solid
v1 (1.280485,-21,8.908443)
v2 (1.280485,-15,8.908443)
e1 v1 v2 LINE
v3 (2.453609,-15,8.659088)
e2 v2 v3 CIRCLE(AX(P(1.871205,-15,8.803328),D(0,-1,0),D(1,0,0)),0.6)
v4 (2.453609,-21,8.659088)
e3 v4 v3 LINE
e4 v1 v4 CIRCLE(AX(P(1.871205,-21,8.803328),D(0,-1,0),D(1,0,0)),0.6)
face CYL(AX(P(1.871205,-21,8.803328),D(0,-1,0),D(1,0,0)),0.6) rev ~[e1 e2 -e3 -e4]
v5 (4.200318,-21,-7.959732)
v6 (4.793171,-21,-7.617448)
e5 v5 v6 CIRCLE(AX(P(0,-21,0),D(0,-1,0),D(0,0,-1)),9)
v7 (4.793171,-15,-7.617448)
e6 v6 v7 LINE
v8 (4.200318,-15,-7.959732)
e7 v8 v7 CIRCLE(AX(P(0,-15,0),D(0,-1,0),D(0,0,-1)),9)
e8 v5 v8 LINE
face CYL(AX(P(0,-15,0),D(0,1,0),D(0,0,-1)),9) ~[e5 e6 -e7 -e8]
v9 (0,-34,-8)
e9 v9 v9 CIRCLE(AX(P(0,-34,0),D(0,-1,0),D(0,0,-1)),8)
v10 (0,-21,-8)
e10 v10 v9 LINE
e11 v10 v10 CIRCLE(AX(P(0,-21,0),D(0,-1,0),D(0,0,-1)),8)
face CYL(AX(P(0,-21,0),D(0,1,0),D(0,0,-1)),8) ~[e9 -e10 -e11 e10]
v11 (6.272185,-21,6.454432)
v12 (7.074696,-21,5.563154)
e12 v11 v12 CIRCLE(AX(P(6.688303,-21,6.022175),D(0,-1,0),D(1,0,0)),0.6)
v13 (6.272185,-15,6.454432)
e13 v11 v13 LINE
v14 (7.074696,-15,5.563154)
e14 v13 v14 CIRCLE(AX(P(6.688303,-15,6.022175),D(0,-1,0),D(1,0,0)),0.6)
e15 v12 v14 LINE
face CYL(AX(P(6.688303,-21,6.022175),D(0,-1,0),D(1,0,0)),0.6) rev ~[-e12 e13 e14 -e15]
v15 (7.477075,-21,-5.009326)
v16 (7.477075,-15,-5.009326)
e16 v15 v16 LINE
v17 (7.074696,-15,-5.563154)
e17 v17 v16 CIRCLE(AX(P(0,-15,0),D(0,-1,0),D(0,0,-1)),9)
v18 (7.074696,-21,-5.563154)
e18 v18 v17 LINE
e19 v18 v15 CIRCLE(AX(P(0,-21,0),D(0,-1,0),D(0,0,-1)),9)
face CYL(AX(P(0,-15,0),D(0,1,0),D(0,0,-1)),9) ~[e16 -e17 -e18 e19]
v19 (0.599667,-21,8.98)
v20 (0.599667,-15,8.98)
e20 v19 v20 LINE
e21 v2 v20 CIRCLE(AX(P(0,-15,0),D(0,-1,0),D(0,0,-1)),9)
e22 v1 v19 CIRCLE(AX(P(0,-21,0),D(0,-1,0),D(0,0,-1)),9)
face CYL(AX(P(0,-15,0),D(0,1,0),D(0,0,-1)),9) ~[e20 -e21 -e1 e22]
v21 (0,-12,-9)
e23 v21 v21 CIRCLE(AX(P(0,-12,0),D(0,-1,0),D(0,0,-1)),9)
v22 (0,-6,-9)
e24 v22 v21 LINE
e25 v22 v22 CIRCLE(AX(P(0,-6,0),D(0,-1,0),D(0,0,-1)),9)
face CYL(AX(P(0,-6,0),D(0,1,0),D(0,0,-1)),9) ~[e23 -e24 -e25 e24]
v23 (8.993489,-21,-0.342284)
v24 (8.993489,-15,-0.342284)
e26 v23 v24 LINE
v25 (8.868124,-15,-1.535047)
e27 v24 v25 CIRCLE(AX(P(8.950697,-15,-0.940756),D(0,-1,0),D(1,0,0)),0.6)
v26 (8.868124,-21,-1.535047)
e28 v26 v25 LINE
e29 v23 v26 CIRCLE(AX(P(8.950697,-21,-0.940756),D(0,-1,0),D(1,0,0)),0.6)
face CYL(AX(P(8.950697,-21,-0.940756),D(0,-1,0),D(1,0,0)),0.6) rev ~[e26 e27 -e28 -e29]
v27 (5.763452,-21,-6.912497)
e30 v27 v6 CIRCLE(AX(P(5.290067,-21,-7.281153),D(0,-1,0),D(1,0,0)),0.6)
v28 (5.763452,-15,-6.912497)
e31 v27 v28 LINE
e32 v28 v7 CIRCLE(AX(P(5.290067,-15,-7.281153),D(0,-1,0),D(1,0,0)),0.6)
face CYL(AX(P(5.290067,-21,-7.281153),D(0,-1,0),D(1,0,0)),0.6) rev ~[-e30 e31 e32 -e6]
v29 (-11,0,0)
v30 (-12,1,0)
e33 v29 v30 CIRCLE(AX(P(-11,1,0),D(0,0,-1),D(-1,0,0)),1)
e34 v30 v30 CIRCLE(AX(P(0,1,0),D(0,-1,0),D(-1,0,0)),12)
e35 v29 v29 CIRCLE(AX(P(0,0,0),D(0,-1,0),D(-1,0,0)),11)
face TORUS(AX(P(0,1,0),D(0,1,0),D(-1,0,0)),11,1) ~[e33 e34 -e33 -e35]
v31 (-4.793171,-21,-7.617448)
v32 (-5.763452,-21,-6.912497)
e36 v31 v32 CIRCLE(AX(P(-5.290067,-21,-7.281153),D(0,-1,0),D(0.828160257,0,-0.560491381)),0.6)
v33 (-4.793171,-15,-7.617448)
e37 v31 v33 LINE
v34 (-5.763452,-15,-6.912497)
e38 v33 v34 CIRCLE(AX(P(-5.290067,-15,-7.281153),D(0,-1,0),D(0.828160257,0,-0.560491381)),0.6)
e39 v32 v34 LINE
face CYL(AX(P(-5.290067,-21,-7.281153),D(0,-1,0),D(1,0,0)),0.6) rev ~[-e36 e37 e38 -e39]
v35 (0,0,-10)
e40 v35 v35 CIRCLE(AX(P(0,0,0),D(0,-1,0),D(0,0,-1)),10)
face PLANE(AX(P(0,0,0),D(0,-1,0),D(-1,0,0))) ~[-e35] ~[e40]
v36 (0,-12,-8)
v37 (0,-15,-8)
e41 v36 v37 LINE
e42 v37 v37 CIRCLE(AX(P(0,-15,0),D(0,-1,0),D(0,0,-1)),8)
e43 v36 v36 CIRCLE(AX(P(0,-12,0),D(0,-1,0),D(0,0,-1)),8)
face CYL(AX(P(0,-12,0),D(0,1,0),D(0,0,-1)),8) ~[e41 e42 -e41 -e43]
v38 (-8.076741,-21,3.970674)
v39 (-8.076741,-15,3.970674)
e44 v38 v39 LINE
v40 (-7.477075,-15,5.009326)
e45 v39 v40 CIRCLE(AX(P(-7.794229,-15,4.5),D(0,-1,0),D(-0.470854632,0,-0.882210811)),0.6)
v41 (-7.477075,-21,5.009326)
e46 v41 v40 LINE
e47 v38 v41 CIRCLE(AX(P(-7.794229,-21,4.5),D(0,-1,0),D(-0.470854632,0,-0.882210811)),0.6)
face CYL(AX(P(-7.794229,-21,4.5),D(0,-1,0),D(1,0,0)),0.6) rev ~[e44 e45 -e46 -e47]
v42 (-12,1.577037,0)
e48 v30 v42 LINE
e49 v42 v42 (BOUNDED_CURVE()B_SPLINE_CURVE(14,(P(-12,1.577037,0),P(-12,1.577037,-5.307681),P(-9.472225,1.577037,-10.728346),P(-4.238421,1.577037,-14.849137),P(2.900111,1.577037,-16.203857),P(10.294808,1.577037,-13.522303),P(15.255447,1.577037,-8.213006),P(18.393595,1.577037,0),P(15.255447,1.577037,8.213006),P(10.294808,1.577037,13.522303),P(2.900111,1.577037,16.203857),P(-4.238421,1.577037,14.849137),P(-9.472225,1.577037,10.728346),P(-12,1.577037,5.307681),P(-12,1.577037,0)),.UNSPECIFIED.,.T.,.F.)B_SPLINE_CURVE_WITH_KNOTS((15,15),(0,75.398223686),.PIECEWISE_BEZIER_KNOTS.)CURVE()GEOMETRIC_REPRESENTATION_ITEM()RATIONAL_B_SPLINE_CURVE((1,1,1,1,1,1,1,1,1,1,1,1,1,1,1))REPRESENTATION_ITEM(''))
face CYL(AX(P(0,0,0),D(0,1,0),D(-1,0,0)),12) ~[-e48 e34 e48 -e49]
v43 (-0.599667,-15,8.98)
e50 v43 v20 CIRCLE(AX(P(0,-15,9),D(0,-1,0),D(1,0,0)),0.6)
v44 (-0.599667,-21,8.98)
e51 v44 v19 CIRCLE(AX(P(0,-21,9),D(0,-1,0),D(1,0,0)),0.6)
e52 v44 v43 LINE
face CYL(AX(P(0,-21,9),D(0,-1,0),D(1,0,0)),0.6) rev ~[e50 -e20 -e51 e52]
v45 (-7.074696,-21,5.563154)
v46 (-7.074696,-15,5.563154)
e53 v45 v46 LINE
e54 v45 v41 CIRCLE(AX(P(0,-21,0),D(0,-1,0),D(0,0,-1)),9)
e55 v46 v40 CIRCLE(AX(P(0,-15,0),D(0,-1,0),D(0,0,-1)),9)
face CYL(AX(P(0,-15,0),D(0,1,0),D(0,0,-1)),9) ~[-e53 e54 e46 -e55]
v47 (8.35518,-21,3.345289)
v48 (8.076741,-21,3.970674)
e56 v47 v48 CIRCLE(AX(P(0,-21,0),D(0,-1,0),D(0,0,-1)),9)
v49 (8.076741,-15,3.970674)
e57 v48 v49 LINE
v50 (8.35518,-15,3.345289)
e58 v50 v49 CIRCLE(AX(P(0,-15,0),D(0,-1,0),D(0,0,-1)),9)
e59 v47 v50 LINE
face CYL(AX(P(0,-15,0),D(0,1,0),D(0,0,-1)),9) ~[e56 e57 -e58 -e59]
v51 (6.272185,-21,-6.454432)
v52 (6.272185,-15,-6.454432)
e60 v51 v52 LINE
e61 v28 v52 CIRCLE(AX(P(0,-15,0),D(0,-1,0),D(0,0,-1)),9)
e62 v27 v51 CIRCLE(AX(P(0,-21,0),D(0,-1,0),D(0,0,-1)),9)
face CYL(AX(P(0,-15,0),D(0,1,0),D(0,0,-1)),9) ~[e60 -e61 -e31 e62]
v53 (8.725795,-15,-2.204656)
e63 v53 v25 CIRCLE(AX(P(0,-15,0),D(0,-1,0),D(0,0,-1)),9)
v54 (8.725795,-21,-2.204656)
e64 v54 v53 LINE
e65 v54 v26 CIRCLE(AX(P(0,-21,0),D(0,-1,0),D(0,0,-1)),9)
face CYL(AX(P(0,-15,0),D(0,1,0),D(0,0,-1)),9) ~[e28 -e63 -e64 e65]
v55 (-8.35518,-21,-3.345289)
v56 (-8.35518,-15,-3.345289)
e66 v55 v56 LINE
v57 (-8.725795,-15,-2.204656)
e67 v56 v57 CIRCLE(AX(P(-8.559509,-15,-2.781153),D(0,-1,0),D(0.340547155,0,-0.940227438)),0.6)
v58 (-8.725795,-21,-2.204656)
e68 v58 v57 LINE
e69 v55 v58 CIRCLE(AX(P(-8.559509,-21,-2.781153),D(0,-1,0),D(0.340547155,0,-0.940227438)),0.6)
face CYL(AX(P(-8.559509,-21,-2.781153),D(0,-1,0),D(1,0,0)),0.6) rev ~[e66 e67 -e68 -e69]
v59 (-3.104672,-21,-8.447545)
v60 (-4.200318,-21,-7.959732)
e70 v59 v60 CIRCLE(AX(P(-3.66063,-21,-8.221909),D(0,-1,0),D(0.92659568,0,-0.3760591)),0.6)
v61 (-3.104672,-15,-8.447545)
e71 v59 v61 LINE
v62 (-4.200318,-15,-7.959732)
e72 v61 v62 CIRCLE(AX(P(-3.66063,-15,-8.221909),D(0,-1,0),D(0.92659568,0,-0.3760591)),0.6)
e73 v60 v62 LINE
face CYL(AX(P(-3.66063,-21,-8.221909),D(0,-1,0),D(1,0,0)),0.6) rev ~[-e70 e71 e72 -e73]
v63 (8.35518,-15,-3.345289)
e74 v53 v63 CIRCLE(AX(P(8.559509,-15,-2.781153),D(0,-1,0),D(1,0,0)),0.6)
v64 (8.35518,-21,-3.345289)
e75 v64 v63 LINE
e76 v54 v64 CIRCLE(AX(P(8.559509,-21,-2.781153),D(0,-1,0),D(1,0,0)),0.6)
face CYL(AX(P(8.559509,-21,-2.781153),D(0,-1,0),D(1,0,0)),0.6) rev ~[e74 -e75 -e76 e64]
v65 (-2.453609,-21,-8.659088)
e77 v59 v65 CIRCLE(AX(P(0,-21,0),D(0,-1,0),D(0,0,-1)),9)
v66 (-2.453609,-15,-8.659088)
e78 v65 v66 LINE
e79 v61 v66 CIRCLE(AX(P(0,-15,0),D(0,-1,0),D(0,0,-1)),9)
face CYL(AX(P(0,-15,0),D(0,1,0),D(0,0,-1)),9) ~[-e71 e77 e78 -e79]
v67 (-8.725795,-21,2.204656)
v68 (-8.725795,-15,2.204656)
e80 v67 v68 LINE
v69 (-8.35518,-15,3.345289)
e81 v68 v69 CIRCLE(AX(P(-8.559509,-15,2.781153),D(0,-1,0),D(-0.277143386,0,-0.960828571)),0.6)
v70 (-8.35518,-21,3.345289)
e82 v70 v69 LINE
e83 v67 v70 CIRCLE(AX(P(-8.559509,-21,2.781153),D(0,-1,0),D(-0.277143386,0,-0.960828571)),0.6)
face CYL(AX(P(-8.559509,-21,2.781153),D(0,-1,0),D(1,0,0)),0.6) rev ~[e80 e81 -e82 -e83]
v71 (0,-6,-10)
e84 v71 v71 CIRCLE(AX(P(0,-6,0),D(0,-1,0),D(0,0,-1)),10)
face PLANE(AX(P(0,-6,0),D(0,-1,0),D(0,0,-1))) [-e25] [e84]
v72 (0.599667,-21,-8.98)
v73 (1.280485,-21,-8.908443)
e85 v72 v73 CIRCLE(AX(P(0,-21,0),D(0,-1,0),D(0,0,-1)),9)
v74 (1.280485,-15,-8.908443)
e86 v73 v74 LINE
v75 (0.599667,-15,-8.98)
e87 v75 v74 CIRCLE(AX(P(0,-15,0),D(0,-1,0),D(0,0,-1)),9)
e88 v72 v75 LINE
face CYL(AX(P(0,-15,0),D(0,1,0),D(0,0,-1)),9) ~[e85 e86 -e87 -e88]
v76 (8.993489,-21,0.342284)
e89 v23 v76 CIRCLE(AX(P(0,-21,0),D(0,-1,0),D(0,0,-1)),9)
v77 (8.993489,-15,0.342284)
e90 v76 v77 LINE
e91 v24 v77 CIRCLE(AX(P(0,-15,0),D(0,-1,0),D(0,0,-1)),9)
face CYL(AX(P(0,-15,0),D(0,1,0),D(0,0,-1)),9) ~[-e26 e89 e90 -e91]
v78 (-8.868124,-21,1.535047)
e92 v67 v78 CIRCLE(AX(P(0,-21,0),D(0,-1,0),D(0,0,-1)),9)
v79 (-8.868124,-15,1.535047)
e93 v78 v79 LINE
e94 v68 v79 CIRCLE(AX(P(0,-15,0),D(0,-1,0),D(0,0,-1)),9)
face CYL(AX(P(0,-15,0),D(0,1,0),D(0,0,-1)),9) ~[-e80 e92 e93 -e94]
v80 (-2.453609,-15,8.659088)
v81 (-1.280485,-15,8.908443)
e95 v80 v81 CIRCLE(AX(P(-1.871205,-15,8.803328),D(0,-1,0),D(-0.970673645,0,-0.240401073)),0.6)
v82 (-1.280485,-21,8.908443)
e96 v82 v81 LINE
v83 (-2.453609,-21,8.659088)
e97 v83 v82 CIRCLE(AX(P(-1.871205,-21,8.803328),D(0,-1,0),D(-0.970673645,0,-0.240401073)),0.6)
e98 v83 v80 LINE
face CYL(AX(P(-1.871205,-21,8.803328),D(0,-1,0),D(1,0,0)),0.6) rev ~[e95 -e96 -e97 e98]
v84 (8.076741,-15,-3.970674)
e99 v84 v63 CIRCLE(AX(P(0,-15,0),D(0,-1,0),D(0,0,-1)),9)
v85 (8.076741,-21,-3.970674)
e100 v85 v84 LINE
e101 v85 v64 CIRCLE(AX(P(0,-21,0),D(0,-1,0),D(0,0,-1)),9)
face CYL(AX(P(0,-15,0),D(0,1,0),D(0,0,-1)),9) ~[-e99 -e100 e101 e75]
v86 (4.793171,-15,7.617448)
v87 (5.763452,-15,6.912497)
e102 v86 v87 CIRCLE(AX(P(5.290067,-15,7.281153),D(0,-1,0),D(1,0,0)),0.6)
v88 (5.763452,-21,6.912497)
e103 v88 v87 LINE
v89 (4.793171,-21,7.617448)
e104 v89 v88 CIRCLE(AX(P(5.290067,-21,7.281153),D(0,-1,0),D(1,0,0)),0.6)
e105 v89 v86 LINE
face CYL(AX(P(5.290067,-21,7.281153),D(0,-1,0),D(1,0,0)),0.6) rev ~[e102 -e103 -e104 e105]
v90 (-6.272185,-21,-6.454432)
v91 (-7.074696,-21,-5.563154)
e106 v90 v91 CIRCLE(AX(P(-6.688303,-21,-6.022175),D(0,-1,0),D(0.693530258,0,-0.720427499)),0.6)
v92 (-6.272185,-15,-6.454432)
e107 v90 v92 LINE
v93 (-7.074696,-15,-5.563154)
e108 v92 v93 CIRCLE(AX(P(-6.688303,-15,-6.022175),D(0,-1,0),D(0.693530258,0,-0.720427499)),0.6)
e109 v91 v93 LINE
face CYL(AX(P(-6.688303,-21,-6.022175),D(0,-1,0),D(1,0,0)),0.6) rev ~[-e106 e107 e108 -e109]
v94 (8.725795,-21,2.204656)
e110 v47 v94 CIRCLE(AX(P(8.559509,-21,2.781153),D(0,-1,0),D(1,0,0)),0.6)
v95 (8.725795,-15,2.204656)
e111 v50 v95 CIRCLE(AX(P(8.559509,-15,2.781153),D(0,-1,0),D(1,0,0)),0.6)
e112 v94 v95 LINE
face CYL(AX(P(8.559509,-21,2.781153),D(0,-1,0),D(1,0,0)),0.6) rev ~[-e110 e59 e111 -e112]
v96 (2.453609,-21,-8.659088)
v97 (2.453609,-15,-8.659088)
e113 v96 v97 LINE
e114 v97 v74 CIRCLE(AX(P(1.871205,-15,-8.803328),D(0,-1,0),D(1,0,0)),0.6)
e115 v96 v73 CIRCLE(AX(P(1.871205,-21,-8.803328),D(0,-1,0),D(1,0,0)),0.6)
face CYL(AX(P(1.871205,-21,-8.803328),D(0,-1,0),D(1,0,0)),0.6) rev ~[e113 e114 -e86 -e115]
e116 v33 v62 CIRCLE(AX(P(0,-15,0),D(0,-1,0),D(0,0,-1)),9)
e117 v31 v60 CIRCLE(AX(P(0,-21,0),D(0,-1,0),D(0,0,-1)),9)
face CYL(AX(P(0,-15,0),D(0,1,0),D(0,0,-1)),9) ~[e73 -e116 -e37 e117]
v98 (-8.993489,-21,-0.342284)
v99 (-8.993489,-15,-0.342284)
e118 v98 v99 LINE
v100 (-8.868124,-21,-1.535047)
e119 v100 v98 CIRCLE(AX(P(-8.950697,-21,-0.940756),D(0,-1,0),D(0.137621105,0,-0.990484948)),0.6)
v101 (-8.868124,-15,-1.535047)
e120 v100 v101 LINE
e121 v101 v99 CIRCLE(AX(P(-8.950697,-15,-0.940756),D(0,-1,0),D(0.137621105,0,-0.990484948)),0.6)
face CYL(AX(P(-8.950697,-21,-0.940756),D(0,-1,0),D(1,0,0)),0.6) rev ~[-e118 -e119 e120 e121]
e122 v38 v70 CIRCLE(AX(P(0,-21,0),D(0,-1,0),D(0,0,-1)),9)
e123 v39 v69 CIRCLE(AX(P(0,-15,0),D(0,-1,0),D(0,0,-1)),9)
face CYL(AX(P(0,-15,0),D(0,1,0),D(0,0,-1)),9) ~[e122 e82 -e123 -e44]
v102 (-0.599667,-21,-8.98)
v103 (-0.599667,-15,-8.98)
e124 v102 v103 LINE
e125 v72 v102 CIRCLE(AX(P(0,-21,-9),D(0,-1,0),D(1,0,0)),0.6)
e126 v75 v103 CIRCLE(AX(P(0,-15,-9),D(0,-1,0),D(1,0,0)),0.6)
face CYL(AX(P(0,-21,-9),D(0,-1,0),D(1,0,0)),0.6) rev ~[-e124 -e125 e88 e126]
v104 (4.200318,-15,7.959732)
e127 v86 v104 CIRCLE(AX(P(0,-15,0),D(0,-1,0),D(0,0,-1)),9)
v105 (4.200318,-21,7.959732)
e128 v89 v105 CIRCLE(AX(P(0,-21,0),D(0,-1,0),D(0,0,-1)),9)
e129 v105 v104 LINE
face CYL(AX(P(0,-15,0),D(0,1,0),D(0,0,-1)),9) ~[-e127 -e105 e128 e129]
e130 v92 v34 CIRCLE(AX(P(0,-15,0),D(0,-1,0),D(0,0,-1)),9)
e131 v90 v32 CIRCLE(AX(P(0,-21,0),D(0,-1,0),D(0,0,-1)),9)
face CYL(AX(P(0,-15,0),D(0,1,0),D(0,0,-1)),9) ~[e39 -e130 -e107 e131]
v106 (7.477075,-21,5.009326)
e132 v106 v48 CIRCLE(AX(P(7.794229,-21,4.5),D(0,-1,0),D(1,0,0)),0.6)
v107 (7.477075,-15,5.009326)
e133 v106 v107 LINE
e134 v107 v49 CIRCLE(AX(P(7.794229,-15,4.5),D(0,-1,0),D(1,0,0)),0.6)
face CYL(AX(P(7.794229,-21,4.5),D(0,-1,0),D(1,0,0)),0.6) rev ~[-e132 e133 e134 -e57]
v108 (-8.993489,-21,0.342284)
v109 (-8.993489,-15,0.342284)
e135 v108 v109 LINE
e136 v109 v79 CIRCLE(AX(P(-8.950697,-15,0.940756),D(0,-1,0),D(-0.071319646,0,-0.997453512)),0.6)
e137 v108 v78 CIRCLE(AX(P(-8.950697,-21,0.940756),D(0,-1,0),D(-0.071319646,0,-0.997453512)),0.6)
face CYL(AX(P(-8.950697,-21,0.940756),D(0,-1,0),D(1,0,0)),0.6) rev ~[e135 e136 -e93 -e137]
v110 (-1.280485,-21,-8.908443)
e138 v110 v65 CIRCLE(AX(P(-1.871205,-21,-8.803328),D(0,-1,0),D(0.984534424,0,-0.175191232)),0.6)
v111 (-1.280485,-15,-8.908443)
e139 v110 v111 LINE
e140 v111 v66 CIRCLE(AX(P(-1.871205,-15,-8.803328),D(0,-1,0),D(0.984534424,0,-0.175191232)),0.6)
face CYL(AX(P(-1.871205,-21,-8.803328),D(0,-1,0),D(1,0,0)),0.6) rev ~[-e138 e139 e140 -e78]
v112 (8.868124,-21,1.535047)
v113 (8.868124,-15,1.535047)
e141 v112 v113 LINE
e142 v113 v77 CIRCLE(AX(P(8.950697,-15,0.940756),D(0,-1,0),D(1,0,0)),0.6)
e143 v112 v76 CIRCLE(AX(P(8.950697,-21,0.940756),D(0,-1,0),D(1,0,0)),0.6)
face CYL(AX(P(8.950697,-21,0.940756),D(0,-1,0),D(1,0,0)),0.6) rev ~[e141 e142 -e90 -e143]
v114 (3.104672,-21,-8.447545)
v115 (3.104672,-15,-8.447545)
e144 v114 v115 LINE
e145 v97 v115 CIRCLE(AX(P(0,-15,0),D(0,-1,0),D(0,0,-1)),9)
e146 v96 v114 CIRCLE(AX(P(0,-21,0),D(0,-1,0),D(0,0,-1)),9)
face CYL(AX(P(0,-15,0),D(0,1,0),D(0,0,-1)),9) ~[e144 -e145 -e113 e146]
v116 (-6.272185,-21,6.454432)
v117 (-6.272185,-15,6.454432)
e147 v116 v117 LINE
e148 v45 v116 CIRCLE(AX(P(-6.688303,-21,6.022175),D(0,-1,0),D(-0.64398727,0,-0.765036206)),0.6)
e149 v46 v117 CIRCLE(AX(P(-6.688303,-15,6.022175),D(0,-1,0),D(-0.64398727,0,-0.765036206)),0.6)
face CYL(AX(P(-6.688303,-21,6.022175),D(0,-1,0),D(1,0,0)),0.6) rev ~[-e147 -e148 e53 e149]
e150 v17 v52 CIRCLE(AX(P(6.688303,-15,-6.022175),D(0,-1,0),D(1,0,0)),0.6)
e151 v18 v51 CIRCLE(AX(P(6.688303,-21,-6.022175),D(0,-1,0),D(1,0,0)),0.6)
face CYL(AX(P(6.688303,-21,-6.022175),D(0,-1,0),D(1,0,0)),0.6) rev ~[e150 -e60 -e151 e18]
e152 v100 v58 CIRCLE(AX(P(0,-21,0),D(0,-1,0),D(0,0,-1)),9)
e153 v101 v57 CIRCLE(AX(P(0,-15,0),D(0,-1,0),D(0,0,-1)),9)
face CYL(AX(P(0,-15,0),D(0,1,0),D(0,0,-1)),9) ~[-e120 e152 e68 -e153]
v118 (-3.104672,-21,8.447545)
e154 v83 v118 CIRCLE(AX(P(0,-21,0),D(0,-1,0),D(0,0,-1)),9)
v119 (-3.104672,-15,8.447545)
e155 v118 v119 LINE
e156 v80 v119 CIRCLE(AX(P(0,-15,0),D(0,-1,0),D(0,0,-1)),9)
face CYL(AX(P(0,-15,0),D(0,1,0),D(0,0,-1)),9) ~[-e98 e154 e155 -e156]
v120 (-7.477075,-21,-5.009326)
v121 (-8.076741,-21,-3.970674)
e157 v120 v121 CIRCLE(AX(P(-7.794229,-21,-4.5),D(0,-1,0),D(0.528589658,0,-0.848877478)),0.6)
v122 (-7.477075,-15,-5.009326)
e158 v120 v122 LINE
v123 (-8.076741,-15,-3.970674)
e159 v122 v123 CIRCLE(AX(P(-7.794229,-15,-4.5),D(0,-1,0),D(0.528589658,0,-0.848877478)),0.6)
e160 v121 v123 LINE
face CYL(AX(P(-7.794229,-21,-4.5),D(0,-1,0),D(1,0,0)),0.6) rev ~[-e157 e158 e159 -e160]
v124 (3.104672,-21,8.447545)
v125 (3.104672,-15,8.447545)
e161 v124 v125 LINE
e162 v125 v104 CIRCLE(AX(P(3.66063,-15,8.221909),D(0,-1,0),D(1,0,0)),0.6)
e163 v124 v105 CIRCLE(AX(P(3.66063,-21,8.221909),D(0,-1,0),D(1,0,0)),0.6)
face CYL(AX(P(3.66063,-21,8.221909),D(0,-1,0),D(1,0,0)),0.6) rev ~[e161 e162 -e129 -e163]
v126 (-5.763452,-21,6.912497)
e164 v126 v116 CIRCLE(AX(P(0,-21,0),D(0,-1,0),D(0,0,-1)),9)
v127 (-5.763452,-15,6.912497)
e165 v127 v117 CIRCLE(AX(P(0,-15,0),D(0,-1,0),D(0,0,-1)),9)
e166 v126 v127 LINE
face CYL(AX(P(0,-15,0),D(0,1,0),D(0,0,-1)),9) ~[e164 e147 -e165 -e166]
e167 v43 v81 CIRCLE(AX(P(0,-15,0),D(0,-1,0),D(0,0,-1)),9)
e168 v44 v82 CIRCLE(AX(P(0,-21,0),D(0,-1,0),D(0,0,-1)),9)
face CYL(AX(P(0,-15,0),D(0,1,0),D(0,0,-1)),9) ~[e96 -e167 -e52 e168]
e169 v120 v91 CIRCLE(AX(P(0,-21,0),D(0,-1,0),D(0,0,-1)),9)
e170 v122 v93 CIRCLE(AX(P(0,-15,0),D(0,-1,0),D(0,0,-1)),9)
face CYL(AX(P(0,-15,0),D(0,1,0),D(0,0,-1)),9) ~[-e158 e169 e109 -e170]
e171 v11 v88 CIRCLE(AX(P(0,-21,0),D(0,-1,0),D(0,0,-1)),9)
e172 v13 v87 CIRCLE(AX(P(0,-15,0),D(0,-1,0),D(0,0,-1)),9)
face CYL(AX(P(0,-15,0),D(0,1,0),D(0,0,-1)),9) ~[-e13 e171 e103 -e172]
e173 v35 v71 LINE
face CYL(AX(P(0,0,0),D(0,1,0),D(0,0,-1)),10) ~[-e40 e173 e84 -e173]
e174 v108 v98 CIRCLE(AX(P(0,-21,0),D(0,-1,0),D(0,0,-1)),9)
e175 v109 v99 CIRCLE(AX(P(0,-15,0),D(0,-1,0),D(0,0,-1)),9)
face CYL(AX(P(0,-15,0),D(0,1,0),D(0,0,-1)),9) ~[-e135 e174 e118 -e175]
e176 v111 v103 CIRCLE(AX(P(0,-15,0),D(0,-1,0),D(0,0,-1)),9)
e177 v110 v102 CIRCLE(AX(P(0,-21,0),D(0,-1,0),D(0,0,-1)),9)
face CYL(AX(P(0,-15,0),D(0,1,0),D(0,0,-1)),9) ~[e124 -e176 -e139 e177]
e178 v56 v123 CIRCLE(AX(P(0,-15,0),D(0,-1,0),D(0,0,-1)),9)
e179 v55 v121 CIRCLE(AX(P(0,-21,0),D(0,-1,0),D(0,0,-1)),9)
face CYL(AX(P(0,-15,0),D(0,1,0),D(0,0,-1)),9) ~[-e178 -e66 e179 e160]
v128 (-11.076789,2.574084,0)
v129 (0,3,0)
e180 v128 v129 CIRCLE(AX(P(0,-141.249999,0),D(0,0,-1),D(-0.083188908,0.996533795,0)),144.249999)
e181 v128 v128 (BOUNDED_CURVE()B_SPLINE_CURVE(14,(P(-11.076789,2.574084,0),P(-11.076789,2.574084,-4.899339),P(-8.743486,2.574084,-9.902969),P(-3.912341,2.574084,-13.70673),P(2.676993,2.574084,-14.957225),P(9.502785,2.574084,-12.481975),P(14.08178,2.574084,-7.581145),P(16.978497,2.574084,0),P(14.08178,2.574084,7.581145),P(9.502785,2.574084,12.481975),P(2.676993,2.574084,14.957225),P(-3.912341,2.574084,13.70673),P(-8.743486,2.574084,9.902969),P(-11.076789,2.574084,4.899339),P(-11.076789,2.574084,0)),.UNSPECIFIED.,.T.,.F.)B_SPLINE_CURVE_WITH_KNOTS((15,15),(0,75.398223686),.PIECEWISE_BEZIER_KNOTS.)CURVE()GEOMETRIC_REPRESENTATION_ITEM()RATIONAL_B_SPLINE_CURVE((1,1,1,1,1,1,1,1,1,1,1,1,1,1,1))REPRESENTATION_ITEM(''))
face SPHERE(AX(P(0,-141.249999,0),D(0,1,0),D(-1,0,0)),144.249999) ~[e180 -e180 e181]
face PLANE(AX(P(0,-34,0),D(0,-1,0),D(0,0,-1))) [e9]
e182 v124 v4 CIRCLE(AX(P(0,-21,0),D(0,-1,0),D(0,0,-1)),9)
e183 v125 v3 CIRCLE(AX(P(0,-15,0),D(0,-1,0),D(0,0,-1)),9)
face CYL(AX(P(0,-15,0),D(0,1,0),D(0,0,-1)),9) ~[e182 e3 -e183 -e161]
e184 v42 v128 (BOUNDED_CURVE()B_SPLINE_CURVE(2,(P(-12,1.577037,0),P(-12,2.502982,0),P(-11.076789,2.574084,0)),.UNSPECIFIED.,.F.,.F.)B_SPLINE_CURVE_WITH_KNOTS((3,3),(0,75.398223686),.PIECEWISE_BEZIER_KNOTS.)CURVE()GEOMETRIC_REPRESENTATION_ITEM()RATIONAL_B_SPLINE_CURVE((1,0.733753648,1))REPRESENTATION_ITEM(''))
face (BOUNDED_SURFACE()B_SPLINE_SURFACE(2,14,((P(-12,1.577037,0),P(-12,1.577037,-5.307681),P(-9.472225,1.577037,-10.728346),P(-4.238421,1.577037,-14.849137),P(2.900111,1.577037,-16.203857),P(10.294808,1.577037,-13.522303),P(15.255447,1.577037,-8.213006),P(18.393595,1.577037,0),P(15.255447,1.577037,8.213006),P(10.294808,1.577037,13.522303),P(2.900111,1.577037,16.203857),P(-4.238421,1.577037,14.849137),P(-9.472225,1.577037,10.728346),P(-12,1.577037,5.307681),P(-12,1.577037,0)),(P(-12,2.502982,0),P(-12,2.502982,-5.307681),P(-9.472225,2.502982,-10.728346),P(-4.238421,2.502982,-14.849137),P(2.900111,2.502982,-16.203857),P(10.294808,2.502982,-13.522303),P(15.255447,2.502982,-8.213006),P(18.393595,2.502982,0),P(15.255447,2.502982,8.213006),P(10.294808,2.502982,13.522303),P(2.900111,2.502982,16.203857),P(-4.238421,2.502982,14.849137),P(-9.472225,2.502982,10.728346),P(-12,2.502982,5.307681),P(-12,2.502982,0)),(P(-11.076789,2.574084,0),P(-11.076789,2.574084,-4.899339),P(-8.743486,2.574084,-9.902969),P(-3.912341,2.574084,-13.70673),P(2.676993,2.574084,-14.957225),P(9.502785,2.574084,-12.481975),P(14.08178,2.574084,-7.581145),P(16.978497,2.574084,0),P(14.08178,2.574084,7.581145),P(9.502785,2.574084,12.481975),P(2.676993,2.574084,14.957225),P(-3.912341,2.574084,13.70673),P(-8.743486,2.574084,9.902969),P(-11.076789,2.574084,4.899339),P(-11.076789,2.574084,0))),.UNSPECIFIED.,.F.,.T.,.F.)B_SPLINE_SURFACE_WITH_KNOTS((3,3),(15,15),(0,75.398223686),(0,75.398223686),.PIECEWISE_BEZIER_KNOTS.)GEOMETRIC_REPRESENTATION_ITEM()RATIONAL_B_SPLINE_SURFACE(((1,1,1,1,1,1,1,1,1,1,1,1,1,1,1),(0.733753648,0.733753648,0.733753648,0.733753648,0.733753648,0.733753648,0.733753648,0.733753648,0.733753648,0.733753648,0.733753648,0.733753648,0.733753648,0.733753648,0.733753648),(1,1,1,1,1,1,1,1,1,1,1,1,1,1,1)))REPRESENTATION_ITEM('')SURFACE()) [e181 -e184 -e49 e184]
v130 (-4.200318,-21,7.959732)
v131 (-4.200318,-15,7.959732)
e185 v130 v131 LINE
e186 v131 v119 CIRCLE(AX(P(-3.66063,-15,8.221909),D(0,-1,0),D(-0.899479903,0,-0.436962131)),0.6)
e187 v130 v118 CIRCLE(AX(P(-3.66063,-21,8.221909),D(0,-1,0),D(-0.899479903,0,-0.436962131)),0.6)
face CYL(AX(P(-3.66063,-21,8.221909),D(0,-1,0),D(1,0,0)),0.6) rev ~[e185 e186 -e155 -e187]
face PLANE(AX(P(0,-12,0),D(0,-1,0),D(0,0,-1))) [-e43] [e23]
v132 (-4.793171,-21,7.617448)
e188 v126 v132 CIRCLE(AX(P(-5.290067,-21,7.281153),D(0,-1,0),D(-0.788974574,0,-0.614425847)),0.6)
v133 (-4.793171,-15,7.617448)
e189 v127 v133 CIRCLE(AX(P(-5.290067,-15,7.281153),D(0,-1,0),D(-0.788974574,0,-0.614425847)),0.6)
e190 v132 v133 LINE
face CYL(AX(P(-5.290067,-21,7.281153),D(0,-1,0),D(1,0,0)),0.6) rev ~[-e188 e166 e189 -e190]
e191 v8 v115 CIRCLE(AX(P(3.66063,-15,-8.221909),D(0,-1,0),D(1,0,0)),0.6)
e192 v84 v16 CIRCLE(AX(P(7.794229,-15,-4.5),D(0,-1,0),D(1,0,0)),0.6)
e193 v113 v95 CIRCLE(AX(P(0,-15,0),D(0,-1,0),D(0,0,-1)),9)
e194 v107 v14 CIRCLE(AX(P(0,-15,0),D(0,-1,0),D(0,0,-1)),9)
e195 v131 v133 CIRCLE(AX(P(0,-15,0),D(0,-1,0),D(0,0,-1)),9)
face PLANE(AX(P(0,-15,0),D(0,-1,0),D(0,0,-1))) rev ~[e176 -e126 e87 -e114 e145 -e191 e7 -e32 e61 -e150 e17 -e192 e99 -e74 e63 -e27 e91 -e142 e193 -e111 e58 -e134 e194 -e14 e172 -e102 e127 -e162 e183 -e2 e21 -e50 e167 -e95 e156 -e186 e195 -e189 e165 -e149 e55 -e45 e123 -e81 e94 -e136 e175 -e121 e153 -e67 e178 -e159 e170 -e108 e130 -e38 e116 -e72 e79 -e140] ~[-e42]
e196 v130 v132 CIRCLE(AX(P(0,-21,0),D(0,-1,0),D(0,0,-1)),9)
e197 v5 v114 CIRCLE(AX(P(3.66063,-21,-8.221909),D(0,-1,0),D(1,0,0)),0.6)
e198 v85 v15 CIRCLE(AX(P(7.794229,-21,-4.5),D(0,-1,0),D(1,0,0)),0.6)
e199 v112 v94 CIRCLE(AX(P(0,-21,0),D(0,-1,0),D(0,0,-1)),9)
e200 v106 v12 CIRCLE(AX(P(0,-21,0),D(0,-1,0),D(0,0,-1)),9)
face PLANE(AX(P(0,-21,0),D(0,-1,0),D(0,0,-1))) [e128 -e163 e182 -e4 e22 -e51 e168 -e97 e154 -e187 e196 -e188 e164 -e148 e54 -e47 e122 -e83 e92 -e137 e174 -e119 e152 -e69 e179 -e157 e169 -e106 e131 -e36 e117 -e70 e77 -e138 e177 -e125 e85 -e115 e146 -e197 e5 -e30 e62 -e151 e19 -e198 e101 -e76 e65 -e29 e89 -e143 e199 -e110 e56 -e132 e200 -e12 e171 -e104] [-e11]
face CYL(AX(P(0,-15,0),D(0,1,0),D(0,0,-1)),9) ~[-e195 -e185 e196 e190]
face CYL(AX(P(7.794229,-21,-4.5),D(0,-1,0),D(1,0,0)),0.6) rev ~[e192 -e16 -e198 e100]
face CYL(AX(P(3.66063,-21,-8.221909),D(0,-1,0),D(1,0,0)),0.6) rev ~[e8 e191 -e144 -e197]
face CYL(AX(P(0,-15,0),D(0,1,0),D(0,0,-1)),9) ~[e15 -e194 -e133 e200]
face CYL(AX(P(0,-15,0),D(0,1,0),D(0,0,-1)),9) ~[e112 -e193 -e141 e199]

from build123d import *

# Parameters (mm, degrees)
SKETCH_3_R          = 10
EXTRUDE_1_DEPTH     = 6
SKETCH_5_R          = 9
EXTRUDE_2_DEPTH     = 6
SKETCH_7_R          = 8
EXTRUDE_3_DEPTH     = 3
SKETCH_10_R         = 9
EXTRUDE_4_DEPTH     = 6
SKETCH_11_R         = 8
EXTRUDE_5_DEPTH     = 13
FILLET_1_R          = 1
SKETCH_12_R         = 0.6
CUT_EXTRUDE_1_DEPTH = 6


with BuildPart() as part:
    # 草图1 → 旋转1 (revolve)
    with BuildSketch(Plane.XY, mode=Mode.PRIVATE) as revolve_1_sk:
        with BuildLine():
            Line((12, 0), (12, 2.5))
            ThreePointArc((12, 2.5), (6.005206075, 2.874945794), (0, 3))
            Line((0, 3), (0, 0))
            Line((0, 0), (12, 0))
        make_face()
    revolve(revolve_1_sk.sketch.rotate(Axis((0, 3, 0), (0, -1, 0)), 180), axis=Axis((0, 3, 0), (0, -1, 0)))

    # 草图3 → 凸台-拉伸1 (add)
    with BuildSketch(Plane.XZ):
        with Locations(Location((0, 0, 0), (0, 0, 270))):
            Circle(SKETCH_3_R)
    extrude(amount=EXTRUDE_1_DEPTH)

    # 草图5 → 凸台-拉伸2 (add)
    with BuildSketch(Plane.XZ.offset(6)):
        with Locations(Location((0, 0, 0), (0, 0, 270))):
            Circle(SKETCH_5_R)
    extrude(amount=EXTRUDE_2_DEPTH)

    # 草图7 → 凸台-拉伸3 (add)
    with BuildSketch(Plane.XZ.offset(12)):
        with Locations(Location((0, 0, 0), (0, 0, 270))):
            Circle(SKETCH_7_R)
    extrude(amount=EXTRUDE_3_DEPTH)

    # 草图10 → 凸台-拉伸4 (add)
    with BuildSketch(Plane.XZ.offset(15)):
        with Locations(Location((0, 0, 0), (0, 0, 270))):
            Circle(SKETCH_10_R)
    extrude(amount=EXTRUDE_4_DEPTH)

    # 草图11 → 凸台-拉伸5 (add)
    with BuildSketch(Plane.XZ.offset(21)):
        with Locations(Location((0, 0, 0), (0, 0, 270))):
            Circle(SKETCH_11_R)
    extrude(amount=EXTRUDE_5_DEPTH)

    # 圆角1
    fillet_1_edges = [part.edges().sort_by_distance(p)[0] for p in [
        (12, 0, 0),
        (12, 2.5, 0),
    ]]
    fillet(fillet_1_edges, radius=FILLET_1_R)

    # 草图12 → 切除-拉伸1 (cut)
    with BuildSketch(Plane.XZ.offset(21)):
        with Locations((0, 9)):
            Circle(SKETCH_12_R)
        with Locations((1.871205217, 8.803328407)):
            Circle(SKETCH_12_R)
        with Locations((3.660629788, 8.221909119)):
            Circle(SKETCH_12_R)
        with Locations((5.290067271, 7.281152949)):
            Circle(SKETCH_12_R)
        with Locations((6.688303429, 6.022175457)):
            Circle(SKETCH_12_R)
        with Locations((7.794228634, 4.5)):
            Circle(SKETCH_12_R)
        with Locations((8.559508647, 2.781152949)):
            Circle(SKETCH_12_R)
        with Locations((8.950697058, 0.940756169)):
            Circle(SKETCH_12_R)
        with Locations((8.950697058, -0.940756169)):
            Circle(SKETCH_12_R)
        with Locations((8.559508647, -2.781152949)):
            Circle(SKETCH_12_R)
        with Locations((7.794228634, -4.5)):
            Circle(SKETCH_12_R)
        with Locations((6.688303429, -6.022175457)):
            Circle(SKETCH_12_R)
        with Locations((5.290067271, -7.281152949)):
            Circle(SKETCH_12_R)
        with Locations((3.660629788, -8.221909119)):
            Circle(SKETCH_12_R)
        with Locations((1.871205217, -8.803328407)):
            Circle(SKETCH_12_R)
        with Locations((0, -9)):
            Circle(SKETCH_12_R)
        with Locations((-1.871205217, -8.803328407)):
            Circle(SKETCH_12_R)
        with Locations((-3.660629788, -8.221909119)):
            Circle(SKETCH_12_R)
        with Locations((-5.290067271, -7.281152949)):
            Circle(SKETCH_12_R)
        with Locations((-6.688303429, -6.022175457)):
            Circle(SKETCH_12_R)
        with Locations((-7.794228634, -4.5)):
            Circle(SKETCH_12_R)
        with Locations((-8.559508647, -2.781152949)):
            Circle(SKETCH_12_R)
        with Locations((-8.950697058, -0.940756169)):
            Circle(SKETCH_12_R)
        with Locations((-8.950697058, 0.940756169)):
            Circle(SKETCH_12_R)
        with Locations((-8.559508647, 2.781152949)):
            Circle(SKETCH_12_R)
        with Locations((-7.794228634, 4.5)):
            Circle(SKETCH_12_R)
        with Locations((-6.688303429, 6.022175457)):
            Circle(SKETCH_12_R)
        with Locations((-5.290067271, 7.281152949)):
            Circle(SKETCH_12_R)
        with Locations((-3.660629788, 8.221909119)):
            Circle(SKETCH_12_R)
        with Locations((-1.871205217, 8.803328407)):
            Circle(SKETCH_12_R)
    extrude(amount=-CUT_EXTRUDE_1_DEPTH, mode=Mode.SUBTRACT)


solid = part.part
